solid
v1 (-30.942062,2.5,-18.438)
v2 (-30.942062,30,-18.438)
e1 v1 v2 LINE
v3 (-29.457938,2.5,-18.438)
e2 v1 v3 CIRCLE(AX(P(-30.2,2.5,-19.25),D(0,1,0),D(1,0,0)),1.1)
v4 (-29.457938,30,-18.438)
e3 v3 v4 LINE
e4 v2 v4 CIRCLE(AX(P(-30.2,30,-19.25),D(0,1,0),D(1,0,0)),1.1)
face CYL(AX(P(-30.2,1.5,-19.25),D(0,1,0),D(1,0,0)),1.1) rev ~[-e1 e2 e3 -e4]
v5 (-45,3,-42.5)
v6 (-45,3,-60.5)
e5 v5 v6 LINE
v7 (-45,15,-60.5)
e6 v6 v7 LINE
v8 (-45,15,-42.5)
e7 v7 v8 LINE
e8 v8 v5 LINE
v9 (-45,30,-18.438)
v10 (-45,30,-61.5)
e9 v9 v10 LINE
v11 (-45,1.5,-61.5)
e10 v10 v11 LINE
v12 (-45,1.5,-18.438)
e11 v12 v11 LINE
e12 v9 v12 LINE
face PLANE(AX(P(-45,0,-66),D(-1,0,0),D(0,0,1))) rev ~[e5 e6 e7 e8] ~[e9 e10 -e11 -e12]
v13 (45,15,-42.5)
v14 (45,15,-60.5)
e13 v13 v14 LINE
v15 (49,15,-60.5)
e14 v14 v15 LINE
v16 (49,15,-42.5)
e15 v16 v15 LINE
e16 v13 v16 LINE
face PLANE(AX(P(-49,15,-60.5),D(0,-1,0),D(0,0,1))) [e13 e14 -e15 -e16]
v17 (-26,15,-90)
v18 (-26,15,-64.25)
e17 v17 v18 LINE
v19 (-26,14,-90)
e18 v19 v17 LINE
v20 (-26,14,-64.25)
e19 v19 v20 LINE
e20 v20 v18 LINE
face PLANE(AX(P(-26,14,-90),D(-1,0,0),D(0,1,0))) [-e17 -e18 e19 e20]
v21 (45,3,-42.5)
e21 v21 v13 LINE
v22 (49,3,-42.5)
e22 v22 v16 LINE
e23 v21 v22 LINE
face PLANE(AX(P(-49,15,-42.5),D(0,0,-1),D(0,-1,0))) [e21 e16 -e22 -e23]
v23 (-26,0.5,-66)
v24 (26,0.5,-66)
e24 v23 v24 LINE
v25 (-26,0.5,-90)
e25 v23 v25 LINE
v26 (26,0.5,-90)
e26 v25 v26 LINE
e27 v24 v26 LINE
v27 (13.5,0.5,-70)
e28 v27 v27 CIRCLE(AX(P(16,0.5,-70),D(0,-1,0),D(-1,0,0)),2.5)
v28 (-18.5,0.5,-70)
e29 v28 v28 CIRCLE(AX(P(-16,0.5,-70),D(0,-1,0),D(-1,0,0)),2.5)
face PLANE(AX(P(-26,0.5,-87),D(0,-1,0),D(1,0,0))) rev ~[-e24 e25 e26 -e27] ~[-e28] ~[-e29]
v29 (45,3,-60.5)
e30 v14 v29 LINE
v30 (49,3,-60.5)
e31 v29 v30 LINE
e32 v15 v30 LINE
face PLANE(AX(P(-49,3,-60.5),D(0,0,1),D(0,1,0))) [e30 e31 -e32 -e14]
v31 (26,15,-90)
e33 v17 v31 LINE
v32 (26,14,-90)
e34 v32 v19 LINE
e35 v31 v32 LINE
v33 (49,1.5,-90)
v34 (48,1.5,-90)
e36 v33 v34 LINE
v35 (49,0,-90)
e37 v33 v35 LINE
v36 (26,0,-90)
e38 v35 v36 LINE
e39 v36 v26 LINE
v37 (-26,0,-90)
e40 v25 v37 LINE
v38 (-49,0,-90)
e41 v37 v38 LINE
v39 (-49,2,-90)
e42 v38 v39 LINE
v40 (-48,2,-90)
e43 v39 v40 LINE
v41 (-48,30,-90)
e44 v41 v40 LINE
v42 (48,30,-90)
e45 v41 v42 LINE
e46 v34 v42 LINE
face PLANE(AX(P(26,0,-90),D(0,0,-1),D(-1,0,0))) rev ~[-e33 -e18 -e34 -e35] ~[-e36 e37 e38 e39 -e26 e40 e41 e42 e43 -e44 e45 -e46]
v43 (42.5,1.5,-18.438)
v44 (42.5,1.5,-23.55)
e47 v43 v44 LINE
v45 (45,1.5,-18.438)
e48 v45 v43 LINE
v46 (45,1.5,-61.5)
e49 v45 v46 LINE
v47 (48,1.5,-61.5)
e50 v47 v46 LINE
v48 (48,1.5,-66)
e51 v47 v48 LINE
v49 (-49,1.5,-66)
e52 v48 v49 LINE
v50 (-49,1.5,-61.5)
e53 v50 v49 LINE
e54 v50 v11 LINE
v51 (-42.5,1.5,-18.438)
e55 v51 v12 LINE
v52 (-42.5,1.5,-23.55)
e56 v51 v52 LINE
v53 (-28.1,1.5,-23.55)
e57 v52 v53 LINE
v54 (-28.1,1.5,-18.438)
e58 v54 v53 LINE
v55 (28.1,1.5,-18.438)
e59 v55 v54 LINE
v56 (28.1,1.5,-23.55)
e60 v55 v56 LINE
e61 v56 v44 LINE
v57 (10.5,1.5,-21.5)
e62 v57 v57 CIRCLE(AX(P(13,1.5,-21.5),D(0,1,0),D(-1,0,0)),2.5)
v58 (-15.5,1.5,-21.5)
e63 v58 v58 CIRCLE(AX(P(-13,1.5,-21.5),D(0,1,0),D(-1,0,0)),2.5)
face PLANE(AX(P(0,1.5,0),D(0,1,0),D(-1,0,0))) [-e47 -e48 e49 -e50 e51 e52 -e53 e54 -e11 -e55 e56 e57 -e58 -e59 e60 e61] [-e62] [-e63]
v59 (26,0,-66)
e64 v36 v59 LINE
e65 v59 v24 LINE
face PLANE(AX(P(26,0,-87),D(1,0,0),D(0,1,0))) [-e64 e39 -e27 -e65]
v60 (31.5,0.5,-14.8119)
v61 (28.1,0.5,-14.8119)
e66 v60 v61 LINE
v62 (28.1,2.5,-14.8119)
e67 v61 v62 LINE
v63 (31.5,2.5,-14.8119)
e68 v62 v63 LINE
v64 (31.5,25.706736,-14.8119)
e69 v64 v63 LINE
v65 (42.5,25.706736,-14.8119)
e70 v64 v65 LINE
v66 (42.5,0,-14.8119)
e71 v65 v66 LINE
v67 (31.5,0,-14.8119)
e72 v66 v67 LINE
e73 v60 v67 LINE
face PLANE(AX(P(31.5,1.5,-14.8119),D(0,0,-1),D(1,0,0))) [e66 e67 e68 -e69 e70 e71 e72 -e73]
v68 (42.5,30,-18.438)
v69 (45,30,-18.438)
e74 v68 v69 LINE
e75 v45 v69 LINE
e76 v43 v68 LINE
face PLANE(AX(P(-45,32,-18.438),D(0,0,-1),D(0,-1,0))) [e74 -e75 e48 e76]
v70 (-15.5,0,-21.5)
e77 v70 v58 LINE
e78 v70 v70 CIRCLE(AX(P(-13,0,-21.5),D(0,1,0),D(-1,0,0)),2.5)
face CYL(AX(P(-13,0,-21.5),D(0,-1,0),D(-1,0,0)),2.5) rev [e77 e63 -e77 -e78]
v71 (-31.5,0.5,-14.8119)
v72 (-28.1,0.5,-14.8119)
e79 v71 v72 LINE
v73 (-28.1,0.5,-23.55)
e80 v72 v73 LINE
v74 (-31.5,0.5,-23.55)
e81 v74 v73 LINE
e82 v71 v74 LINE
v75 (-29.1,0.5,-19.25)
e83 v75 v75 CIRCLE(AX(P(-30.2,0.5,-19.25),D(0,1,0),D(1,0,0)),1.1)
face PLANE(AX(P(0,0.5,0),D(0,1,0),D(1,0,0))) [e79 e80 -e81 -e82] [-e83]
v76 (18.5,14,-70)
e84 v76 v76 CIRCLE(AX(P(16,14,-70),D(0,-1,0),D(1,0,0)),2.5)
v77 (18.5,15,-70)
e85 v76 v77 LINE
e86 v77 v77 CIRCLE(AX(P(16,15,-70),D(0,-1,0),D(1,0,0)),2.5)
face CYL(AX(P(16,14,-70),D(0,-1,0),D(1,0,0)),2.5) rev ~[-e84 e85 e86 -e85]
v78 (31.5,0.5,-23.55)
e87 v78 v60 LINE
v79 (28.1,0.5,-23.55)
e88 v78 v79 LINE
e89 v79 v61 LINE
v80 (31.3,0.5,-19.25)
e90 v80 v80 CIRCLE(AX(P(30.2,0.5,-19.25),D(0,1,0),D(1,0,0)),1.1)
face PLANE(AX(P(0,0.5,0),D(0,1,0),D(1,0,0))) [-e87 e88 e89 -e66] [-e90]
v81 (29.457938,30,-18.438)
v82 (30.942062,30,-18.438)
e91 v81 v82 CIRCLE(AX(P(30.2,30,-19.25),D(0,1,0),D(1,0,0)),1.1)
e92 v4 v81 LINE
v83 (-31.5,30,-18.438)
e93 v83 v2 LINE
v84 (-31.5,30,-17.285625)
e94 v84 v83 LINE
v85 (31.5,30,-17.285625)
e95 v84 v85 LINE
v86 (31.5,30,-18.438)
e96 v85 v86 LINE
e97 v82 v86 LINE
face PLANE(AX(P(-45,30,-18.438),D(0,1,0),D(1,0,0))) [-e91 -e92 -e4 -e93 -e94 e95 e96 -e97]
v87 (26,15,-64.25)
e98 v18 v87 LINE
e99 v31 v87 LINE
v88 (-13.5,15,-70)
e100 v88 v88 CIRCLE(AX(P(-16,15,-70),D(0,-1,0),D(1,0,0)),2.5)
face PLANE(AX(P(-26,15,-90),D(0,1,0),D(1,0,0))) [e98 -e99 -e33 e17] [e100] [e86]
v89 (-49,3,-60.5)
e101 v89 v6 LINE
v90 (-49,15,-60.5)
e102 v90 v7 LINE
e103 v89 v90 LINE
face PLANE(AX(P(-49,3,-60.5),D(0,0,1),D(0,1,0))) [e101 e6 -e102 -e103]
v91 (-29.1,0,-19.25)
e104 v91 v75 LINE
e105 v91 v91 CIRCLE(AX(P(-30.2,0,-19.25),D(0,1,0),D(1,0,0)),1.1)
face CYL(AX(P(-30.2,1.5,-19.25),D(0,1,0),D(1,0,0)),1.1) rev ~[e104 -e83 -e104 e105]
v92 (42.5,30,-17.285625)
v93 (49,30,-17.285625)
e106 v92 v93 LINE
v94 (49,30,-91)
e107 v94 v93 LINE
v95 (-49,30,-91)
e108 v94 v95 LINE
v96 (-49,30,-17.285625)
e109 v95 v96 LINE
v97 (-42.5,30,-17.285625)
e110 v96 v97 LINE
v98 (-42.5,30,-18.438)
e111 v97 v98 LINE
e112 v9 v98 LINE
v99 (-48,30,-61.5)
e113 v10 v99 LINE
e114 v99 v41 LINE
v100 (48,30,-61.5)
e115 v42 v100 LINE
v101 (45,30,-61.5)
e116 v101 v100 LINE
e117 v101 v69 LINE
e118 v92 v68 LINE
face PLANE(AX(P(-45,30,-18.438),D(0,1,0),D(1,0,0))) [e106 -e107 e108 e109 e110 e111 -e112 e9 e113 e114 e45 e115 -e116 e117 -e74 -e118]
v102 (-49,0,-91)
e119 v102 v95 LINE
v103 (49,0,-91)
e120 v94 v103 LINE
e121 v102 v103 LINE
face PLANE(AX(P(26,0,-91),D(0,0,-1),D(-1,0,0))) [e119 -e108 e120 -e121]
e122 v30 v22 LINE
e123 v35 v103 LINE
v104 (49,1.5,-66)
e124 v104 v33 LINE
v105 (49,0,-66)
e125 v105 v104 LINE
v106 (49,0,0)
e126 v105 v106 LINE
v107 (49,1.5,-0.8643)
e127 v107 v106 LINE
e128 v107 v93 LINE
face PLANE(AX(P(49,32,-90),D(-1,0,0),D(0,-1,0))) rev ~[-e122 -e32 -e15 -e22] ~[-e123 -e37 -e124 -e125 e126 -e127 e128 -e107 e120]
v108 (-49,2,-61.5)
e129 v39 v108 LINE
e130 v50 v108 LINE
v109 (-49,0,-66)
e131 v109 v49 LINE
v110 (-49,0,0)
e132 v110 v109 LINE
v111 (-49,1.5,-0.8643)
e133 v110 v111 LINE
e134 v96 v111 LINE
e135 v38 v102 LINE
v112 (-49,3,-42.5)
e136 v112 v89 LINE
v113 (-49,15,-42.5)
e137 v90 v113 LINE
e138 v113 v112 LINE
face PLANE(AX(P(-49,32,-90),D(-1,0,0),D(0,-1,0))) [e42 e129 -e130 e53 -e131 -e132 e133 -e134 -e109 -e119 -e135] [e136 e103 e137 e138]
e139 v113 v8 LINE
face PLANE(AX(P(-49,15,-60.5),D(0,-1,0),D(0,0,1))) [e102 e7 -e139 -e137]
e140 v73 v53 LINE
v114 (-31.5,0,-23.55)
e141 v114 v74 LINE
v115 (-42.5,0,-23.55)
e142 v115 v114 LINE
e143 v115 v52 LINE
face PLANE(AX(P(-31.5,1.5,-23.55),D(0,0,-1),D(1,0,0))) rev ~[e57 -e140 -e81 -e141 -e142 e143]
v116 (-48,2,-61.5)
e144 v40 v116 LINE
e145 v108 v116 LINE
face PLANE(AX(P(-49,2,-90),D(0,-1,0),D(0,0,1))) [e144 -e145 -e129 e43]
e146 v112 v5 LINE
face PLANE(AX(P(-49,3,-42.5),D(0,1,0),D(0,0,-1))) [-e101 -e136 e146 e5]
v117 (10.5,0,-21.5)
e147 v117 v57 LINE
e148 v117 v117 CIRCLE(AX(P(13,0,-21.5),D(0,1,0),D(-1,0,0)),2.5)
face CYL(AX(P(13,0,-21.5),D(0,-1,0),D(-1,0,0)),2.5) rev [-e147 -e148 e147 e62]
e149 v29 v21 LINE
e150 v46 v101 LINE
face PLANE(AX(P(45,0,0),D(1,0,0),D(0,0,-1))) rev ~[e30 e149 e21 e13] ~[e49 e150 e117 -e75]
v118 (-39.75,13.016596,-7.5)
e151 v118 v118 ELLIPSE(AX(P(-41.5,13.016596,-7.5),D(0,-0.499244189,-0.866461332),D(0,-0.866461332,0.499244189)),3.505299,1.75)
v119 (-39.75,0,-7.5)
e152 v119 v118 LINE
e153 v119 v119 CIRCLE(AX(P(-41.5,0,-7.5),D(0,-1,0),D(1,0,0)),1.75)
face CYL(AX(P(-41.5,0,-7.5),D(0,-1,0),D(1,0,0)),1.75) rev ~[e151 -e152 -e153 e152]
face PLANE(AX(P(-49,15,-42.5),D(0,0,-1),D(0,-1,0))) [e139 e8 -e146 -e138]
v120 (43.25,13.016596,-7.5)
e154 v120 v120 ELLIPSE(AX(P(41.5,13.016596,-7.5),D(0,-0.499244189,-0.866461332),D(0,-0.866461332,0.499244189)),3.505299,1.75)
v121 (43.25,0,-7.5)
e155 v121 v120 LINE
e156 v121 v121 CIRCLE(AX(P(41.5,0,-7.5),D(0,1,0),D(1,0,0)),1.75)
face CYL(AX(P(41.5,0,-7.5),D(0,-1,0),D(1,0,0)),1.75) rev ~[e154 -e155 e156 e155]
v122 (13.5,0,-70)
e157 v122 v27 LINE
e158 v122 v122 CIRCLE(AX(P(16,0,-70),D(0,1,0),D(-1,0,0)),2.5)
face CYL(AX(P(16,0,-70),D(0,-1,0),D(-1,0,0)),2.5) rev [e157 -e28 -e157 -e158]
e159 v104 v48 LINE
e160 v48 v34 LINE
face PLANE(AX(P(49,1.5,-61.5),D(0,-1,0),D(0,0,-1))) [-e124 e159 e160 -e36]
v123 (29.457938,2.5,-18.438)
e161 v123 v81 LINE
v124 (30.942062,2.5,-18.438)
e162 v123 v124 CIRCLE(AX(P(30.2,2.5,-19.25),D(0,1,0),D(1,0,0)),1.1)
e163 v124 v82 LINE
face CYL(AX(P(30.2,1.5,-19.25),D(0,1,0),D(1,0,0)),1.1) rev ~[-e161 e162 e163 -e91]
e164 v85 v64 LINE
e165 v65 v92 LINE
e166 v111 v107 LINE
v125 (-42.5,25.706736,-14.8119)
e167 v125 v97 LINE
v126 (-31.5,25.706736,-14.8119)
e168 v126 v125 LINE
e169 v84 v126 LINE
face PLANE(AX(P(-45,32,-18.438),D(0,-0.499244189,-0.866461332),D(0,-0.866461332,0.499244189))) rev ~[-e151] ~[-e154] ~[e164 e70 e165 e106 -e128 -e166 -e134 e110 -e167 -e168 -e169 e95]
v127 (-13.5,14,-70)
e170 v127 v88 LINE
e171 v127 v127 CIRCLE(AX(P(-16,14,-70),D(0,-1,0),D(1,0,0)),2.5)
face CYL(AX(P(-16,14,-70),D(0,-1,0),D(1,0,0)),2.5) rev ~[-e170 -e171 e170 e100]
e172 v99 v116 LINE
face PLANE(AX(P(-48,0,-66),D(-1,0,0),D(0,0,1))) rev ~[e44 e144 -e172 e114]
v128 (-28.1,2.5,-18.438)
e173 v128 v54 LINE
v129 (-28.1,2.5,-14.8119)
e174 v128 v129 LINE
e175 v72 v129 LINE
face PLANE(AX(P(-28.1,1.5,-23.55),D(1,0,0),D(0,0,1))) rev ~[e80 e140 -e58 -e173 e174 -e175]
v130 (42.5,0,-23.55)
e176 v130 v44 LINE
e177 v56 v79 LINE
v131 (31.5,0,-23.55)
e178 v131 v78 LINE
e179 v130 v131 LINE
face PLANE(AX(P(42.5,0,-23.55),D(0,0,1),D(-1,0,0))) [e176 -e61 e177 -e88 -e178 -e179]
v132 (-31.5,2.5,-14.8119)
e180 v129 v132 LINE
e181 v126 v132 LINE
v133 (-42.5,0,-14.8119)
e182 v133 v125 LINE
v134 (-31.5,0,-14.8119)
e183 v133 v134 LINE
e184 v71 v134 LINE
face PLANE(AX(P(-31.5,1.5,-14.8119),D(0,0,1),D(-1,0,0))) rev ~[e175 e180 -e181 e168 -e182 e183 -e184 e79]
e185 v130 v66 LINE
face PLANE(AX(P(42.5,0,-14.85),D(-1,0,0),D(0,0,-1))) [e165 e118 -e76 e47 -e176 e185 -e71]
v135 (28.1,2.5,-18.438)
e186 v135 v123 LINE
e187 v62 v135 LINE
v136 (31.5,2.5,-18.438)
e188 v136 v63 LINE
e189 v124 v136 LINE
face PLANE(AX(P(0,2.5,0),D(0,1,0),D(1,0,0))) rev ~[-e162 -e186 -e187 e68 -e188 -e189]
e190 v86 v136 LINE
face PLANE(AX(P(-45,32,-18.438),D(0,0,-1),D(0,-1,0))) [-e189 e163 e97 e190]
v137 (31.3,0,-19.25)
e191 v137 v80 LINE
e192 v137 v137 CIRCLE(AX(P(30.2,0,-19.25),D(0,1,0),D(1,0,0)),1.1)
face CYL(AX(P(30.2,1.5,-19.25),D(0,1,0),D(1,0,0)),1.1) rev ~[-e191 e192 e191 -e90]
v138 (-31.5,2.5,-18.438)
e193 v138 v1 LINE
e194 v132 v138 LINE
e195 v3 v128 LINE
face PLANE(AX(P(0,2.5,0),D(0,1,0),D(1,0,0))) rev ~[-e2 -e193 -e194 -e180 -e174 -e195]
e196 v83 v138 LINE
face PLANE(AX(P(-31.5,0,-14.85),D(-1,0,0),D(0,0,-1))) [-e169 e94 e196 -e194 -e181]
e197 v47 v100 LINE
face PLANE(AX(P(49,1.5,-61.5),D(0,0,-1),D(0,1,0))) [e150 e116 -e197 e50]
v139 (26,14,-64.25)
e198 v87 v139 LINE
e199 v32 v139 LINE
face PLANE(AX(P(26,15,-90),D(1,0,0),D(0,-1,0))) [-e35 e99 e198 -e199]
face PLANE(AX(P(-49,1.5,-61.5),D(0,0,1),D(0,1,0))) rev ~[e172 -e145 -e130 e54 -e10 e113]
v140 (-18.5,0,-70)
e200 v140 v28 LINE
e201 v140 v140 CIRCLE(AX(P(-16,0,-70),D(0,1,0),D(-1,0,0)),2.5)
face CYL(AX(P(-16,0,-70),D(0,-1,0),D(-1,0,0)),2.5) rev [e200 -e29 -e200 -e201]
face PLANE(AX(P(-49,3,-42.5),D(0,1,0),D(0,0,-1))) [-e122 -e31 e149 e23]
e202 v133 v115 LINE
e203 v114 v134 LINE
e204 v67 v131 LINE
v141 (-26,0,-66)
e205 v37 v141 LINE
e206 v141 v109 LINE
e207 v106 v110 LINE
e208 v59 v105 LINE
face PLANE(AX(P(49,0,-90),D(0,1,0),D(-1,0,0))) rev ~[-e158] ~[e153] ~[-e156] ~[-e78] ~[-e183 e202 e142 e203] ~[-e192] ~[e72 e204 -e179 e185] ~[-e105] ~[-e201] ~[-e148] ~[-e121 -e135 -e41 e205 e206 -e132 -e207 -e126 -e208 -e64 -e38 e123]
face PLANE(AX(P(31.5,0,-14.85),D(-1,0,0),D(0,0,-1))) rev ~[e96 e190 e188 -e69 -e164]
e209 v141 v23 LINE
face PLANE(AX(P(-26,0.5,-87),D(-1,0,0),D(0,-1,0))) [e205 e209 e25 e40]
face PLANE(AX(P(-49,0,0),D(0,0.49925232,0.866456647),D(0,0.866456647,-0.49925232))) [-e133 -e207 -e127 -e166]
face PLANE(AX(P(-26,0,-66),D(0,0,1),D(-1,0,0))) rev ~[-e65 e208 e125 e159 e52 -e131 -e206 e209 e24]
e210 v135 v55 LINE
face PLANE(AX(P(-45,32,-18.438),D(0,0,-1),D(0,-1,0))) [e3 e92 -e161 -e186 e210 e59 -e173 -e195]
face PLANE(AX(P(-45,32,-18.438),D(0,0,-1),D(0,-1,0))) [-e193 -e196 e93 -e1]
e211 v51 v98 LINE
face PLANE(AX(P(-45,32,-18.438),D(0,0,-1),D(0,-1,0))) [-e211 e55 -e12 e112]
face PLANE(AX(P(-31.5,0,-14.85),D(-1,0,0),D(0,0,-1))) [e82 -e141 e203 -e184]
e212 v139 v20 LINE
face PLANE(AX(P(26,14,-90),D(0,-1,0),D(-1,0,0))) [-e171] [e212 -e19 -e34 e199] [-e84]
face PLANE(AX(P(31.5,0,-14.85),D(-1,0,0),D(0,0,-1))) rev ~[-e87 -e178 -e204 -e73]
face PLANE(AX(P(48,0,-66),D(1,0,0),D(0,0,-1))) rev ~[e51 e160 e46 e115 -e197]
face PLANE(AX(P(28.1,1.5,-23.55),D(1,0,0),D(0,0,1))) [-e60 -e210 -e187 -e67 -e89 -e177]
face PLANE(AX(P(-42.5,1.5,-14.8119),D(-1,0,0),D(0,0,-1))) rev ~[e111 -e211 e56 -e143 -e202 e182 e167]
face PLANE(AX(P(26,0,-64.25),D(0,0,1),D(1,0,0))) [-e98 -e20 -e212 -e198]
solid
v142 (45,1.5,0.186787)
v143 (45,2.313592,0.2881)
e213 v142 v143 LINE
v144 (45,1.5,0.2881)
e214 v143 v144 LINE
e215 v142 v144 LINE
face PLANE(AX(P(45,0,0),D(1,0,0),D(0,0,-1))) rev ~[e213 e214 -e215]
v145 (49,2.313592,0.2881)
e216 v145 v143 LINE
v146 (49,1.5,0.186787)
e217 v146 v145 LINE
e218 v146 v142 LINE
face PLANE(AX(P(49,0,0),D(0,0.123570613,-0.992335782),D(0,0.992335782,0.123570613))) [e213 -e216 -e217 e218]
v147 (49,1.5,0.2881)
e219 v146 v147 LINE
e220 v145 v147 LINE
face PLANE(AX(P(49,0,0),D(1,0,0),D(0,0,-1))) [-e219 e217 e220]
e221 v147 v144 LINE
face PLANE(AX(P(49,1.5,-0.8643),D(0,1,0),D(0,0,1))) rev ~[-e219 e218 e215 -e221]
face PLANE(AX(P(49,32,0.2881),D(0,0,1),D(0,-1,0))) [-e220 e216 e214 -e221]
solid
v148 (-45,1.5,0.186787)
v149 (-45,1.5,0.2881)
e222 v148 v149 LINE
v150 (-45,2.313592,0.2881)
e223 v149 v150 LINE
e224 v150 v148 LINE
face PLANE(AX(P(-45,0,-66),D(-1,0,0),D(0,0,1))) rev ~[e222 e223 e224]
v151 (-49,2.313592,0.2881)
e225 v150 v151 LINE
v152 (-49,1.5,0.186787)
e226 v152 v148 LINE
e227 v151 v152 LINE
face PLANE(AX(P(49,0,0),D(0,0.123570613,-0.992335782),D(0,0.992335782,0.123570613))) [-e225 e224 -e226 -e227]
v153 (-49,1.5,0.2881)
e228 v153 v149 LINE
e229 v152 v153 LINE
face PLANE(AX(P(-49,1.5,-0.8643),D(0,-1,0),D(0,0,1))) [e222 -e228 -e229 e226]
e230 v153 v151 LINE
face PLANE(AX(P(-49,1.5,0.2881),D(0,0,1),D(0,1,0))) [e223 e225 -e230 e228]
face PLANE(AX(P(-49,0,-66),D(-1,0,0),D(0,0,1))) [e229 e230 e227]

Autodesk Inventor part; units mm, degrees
ref_plane "YZ Plane" through (0, 0, 0) normal (1, 0, 0) x (0, 1, 0)
ref_plane "XZ Plane" through (0, 0, 0) normal (0, 1, 0) x (-1, 0, 0)
ref_plane "XY Plane" through (0, 0, 0) normal (0, 0, 1) x (1, 0, 0)
sketch "Boceto2" plane through (0, 0, 0) normal (0, 1, 0) x (-1, 0, 0)
  line L0 (-49, 0) -> (49, 0)
  line L1 (49, 0) -> (49, -87)
  line L2 (49, -87) -> (-49, -87)
  line L3 (-49, -87) -> (-49, 0)
  line L4 (0, -87) -> (0, 0) construction
  circle A0 centre (-41.5, -7.5) radius 1.75
  circle A1 centre (41.5, -7.5) radius 1.75
  line L5 (-26, -87) -> (-26, -66)
  line L6 (-26, -66) -> (-49, -66)
  line L7 (26, -87) -> (26, -66)
  line L8 (26, -66) -> (49, -66)
  line L9 (49, -12) -> (-49, -12) construction
  line L10 (44.5, -24.05) -> (28.5, -24.05)
  line L11 (28.5, -24.05) -> (28.5, -13.05)
  line L12 (28.5, -13.05) -> (44.5, -13.05)
  line L13 (44.5, -13.05) -> (44.5, -24.05)
  line L14 (42.5, -23.55) -> (31.5, -23.55)
  line L15 (31.5, -14.85) -> (42.5, -14.85)
  line L16 (42.5, -14.85) -> (42.5, -23.55)
  circle A2 centre (30.2, -19.25) radius 1.05
  line L17 (31.5, -14.85) -> (31.5, -23.55)
  line L18 (-42.5, -23.55) -> (-31.5, -23.55)
  line L19 (-31.5, -14.85) -> (-42.5, -14.85)
  line L20 (-42.5, -14.85) -> (-42.5, -23.55)
  circle A3 centre (-30.2, -19.25) radius 1.05
  line L21 (-31.5, -14.85) -> (-31.5, -23.55)
  circle A4 centre (13, -21.5) radius 2.5
  circle A5 centre (-13, -21.5) radius 2.5
  circle A6 centre (16, -70) radius 2.5
  circle A7 centre (-16, -70) radius 2.5
  point P0 (26, -87)
  dimension "d6" = 3.5
  dimension "d210" = 0
  dimension "d219" = 87
  dimension "d220" = 21
  dimension "d221" = 12
  dimension "d222" = 23
  dimension "d223" = 98
  dimension "d224" = 7.5
  dimension "d225" = 7.5
  dimension "d226" = 79.5
  dimension "d229" = 2.1
  dimension "d230" = 9
  dimension "d231" = 11
  dimension "d232" = 16
  dimension "d235" = 1
  dimension "d236" = 3.6
  dimension "d239" = 2.1
  dimension "d241" = 1.3
  dimension "d242" = 5
  dimension "d243" = 36
  dimension "d244" = 9.5
  dimension "d245" = 5
  dimension "d246" = 17
  dimension "d247" = 10
  dimension "d252" = 8.7
  dimension "d254" = 4.3
  dimension "d255" = 4
  dimension "d256" = 11
  dimension "d257" = 54
  dimension "d258" = 2.85
extrude "Extrusion Base" add sketch "Boceto2" along normal blind 1.5 contours L0 L1 L8 L7 L2 L5 L6 L3 | L10 L11 L12 L13
sketch "Boceto4" plane through (-49, 0, -66) normal (-1, 0, 0) x (0, 0, 1)
  line L0 (66, 0) -> (0, 0) projected
  line L1 (66, 0) -> (65.1357, 1.5)
  line L2 (66, 0) -> (67.7312, 0) construction
  line L3 (65.1357, 1.5) -> (66, 1.5)
  line L4 (66, 0) -> (66, 1.5) projected
  line L5 (66, 1.5) -> (66, 0)
  dimension "d24" = 119.95
extrude "Extrusión Angulo parte de adelante" cut sketch "Boceto4" against normal blind 100
sketch "Boceto10" plane through (49, 0, 0) normal (1, 0, 0) x (0, 0, -1)
  line L0 (0, 0) -> (0.8643, 1.5) projected
  line L1 (0.8643, 1.5) -> (-0.2881, 1.5)
  line L2 (-0.2881, 1.5) -> (61.5, 1.5)
  line L3 (61.5, 1.5) -> (61.5, 32)
  line L4 (61.5, 32) -> (-0.2881, 32)
  line L5 (-0.2881, 32) -> (-0.2881, 1.5)
extrude "Grado de inclinacion de 60.5 de parte delantera" add sketch "Boceto10" against normal blind 4
sketch "Boceto11" plane through (-49, 0, -66) normal (-1, 0, 0) x (0, 0, 1)
  line L0 (65.1357, 1.5) -> (4.5, 1.5) projected
  line L1 (65.1357, 1.5) -> (66.2881, 1.5) projected
  line L2 (66.2881, 1.5) -> (66.2881, 32) projected
  line L3 (66.2881, 32) -> (4.5, 32) projected
  line L4 (4.5, 2) -> (4.5, 32) projected
  line L5 (66.2881, 1.5) -> (4.5, 1.5)
  line L6 (4.5, 1.5) -> (4.5, 32)
  line L7 (4.5, 32) -> (66.2881, 32)
  line L8 (66.2881, 32) -> (66.2881, 1.5)
  line L9 (4.5, 32) -> (4.5, 1.5) projected
  point P0 (66, 0)
  point P1 (4.5, 1.5)
extrude "Lateral derecha de diseño" add sketch "Boceto11" against normal blind 4
sketch "Boceto13" plane through (49, 0, 0) normal (1, 0, 0) x (0, 0, -1)
  line L0 (0.8643, 1.5) -> (0, 0) projected
  line L1 (0, 0) -> (18.438, 32)
  line L2 (0, 0) -> (36.9318, 0) construction
  line L3 (66, 0) -> (0, 0) projected
  line L4 (61.5, 32) -> (-0.2881, 32) projected
  line L5 (0, 0) -> (-3.9848, 32)
  line L6 (-3.9848, 32) -> (18.438, 32)
  line L7 (-0.2881, 32) -> (61.5, 32) projected
  point P0 (4, 32)
  point P1 (-0.2881, 32)
  dimension "d59" = 60.05
extrude "Lateral izquierda diseño" cut sketch "Boceto13" against normal blind 103.25
sketch "Boceto15" plane through (-45, 0, -66) normal (1, 0, 0) x (0, 0, -1)
  line L0 (-47.562, 32) -> (-66, 0) projected
  line L1 (-66, 0) -> (0, 0) projected
  line L2 (-4.5, 32) -> (-66.2881, 32) projected
  line L3 (-47.562, 32) -> (-47.562, 0)
  line L4 (0, 0) -> (-66, 0) projected
  line L5 (-66, 0) -> (-65.1357, 1.5) projected
  line L6 (-66, 0) -> (-47.562, 0)
  line L7 (-66, 0) -> (-47.562, 32)
  line L8 (0, 0) -> (0, 1.5) projected
  line L9 (-4.5, 1.5) -> (0, 1.5) projected
  line L10 (-4.5, 1.5) -> (-4.5, 32) projected
  line L11 (-4.5, 32) -> (-47.562, 32) projected
  line L12 (-66.2881, 2.3136) -> (-66.2881, 1.5) projected
  line L13 (-66.2881, 1.5) -> (-66.1868, 1.5) projected
  line L14 (-66.1868, 1.5) -> (-66.2881, 2.3136) projected
extrude "Extrusion capa parte delantera" add sketch "Boceto15" along normal blind 93 contours L3 L1 L0
sketch "Boceto17" plane through (0, 0, 0) normal (0, -1, 0) x (1, 0, 0)
  line L0 (-49, 0) -> (49, 0) projected
  line L1 (49, 0) -> (41.5, 0)
  line L2 (41.5, 0) -> (41.5, -7.5)
  line L3 (41.5, -7.5) -> (49, -7.5)
  line L4 (49, -7.5) -> (49, 0)
  circle A0 centre (41.5, -7.5) radius 1.75
  line L5 (0, 0) -> (0, -85.5)
  line L6 (-26, -85.5) -> (26, -85.5) projected
  circle A1 centre (-41.5, -7.5) radius 1.75
  dimension "d67" = 7.5
  dimension "d68" = 7.5
  dimension "d69" = 3.5
extrude "Extrusión huecos tornillos parte delantera" cut sketch "Boceto17" against normal blind 90.25 contours A0 L3 L2 | L2 L3 A0 | A1
sketch "Boceto25" plane through (-49, 0, -66) normal (-1, 0, 0) x (0, 0, 1)
  line L0 (5.5, 15) -> (23.5, 15)
  line L1 (23.5, 15) -> (23.5, 3)
  line L2 (23.5, 3) -> (5.5, 3)
  line L3 (5.5, 3) -> (5.5, 15)
  line L4 (0, 0) -> (66, 0) projected
  dimension "d131" = 3
  dimension "d132" = 18
  dimension "d133" = 12
extrude "Extrusión sensores laterales" cut sketch "Boceto25" against normal blind 98.25
sketch "Boceto39" plane through (0, 1.5, 0) normal (0, 1, 0) x (1, 0, 0)
  line L0 (-42.5, 23.55) -> (-31.5, 23.55)
  line L1 (-31.5, 23.55) -> (-31.5, 14.8119)
  line L2 (-31.5, 14.8119) -> (-42.5, 14.8119)
  line L3 (-42.5, 14.8119) -> (-42.5, 23.55)
  circle A0 centre (-30.2, 19.25) radius 1.1
  line L4 (0, 64) -> (0, 18.438)
  line L5 (-29.5343, 18.438) -> (29.5343, 18.438) projected
  line L6 (42.5, 23.55) -> (31.5, 23.55)
  line L7 (31.5, 23.55) -> (31.5, 14.8119)
  line L8 (31.5, 14.8119) -> (42.5, 14.8119)
  line L9 (42.5, 14.8119) -> (42.5, 23.55)
  circle A1 centre (30.2, 19.25) radius 1.1
  arc A2 (-29.5343, 18.438) -> (-30.8657, 18.438) centre (-30.2, 19.25) ccw projected
  point P0 (0, 0)
  dimension "d259" = 11
  dimension "d262" = 2.2
  dimension "d263" = 1.3
  dimension "d264" = 4.3
  dimension "d270" = 2.15
extrude "Extrusión arreglo sensores" cut sketch "Boceto39" along normal mid plane 85.25
sketch "Boceto40" plane through (0, 1.5, 0) normal (0, 1, 0) x (1, 0, 0)
  line L0 (-30.65, 14.8119) -> (-31.5, 14.8119)
  line L1 (0, 64) -> (0, 18.438)
  line L2 (-29.5343, 18.438) -> (29.5343, 18.438) projected
  line L3 (31.5, 23.55) -> (31.5, 14.8119)
  line L4 (31.5, 23.55) -> (30.65, 23.55)
  line L5 (30.65, 23.55) -> (30.65, 14.8119)
  line L6 (30.65, 14.8119) -> (31.5, 14.8119)
  line L7 (-31.5, 23.55) -> (-28.1, 23.55)
  line L8 (-28.1, 23.55) -> (-28.1, 14.8119)
  line L9 (-28.1, 14.8119) -> (-31.5, 14.8119)
  line L10 (-31.5, 14.8119) -> (-31.5, 23.55)
  arc A0 (-29.4579, 18.438) -> (-30.9421, 18.438) centre (-30.2, 19.25) ccw projected
  line L11 (31.5, 23.55) -> (28.1, 23.55)
  line L12 (28.1, 23.55) -> (28.1, 14.8119)
  line L13 (28.1, 14.8119) -> (31.5, 14.8119)
  line L14 (31.5, 14.8119) -> (31.5, 23.55)
  point P0 (0, 0)
  point P1 (-31.5, 14.8119)
  point P2 (31.5, 14.8119)
  dimension "d271" = 1
extrude "Extrusión desnivel sensores" cut sketch "Boceto40" along normal mid plane 2
sketch "Boceto placa" plane through (0, 1.5, 0) normal (0, 1, 0) x (1, 0, 0)
  circle A0 centre (-32, 31.5) radius 1.75 projected
  circle A1 centre (31.5, 58) radius 1.75 projected
  line L0 (-32, 31.5) -> (31.5, 31.5)
  line L1 (31.5, 31.5) -> (31.5, 58)
  line L2 (31.5, 58) -> (-32, 58)
  line L3 (-32, 58) -> (-32, 31.5)
  line L4 (-42, 27.507) -> (42, 27.507)
  line L5 (42, 27.507) -> (42, 63.007)
  line L6 (42, 63.007) -> (-42, 63.007)
  line L7 (-42, 63.007) -> (-42, 27.507)
  line L8 (-45, 61.5) -> (-45, 18.438) projected
  line L9 (45, 18.438) -> (45, 61.5) projected
  line L10 (-22.385, 61.5) -> (-45, 61.5) projected
  line L11 (-45, 18.438) -> (45, 18.438) projected
  point P0 (0, 0)
  point P1 (-45, -0.2881)
  dimension "d167" = 63.5
  dimension "d168" = 26.5
  dimension "d172" = 84
  dimension "d176" = 10
  dimension "d177" = 3.993
  dimension "d178" = 3.5
  dimension "d179" = 35.5
  dimension "d180" = 9.069
sketch "Boceto48" plane through (0, 1.5, 0) normal (0, 1, 0) x (1, 0, 0)
  line L0 (26, 87) -> (-26, 87) projected
  line L1 (-26, 66) -> (26, 66)
  line L2 (26, 66) -> (26, 87)
  line L3 (26, 87) -> (-26, 87)
  line L4 (-26, 87) -> (-26, 66)
  point P0 (0, 0)
  point P1 (-26, 87)
extrude "Extrusión35" cut sketch "Boceto48" against normal blind 1
sketch "Boceto49" plane through (49, 0, -66) normal (1, 0, 0) x (0, 0, -1)
  line L0 (-4.5, 1.5) -> (-4.5, 32) projected
  line L1 (-4.5, 1.5) -> (24, 1.5)
  line L2 (24, 1.5) -> (24, 32)
  line L3 (24, 32) -> (-4.5, 32)
  line L4 (-4.5, 32) -> (-4.5, 1.5)
  point P0 (-66, 0)
  dimension "d281" = 28.5
extrude "Extrusión36" add sketch "Boceto49" against normal blind 1
sketch "Boceto50" plane through (-49, 0, -66) normal (-1, 0, 0) x (0, 0, 1)
  line L0 (4.5, 32) -> (4.5, 1.5) projected
  line L1 (4.5, 32) -> (-24, 32)
  line L2 (-24, 32) -> (-24, 2)
  line L3 (-24, 2) -> (4.5, 2)
  line L4 (4.5, 2) -> (4.5, 32)
  point P0 (66, 0)
  dimension "d284" = 28.5
extrude "Extrusión37" add sketch "Boceto50" against normal blind 1
sketch "Boceto52" plane through (26, 0, -87) normal (0, 0, -1) x (-1, 0, 0)
  line L0 (0, 0.5) -> (52, 0.5) projected
  line L1 (0, -0.5) -> (52, -0.5)
  line L2 (52, -0.5) -> (52, 0.5)
  line L3 (52, 0.5) -> (0, 0.5)
  line L4 (0, 0.5) -> (0, -0.5)
  point P0 (26, 0)
sketch "Boceto53" plane through (26, 0, -87) normal (0, 0, -1) x (-1, 0, 0)
  line L0 (52, 0.5) -> (0, 0.5) projected
  line L1 (52, 0) -> (75, 0) projected
  line L2 (0, 0.5) -> (52, 0.5)
  line L3 (52, 0.5) -> (52, 0)
  line L4 (52, 0) -> (0, 0)
  line L5 (0, 0) -> (0, 0.5)
  point P0 (26, 0)
extrude "Extrusión39" add sketch "Boceto53" along normal blind 3
sketch "Boceto54" plane through (26, 0, -90) normal (0, 0, -1) x (-1, 0, 0)
  point P0 (26, 0)
sketch "Boceto55" plane through (26, 0, -90) normal (0, 0, -1) x (-1, 0, 0)
  line L0 (-23, 0) -> (0, 0) projected
  line L1 (75, 32) -> (75, 2) projected
  line L2 (-23, 0) -> (75, 0)
  line L3 (75, 0) -> (75, 32)
  line L4 (75, 32) -> (-23, 32)
  line L5 (-23, 32) -> (-23, 0)
  point P0 (26, 0)
extrude "Extrusión40" add sketch "Boceto55" along normal blind 1
sketch "Boceto56" plane through (26, 0, -90) normal (0, 0, 1) x (1, 0, 0)
  line L0 (-52, 15) -> (0, 15)
  line L1 (0, 15) -> (0, 14)
  line L2 (0, 14) -> (-52, 14)
  line L3 (-52, 14) -> (-52, 15)
  line L4 (-52, 0.5) -> (0, 0.5) projected
  point P0 (-26, 0)
  dimension "d293" = 13.5
  dimension "d294" = 1
  dimension "d295" = 0
  dimension "d296" = 0
extrude "Extrusión41" add sketch "Boceto56" along normal blind 25.75
sketch "Boceto57" plane through (-26, 14, -90) normal (0, -1, 0) x (1, 0, 0)
  circle A0 centre (10, 20) radius 2.5 projected
  circle A1 centre (10, 20) radius 2.5
  circle A2 centre (42, 20) radius 2.5 projected
  circle A3 centre (42, 20) radius 2.5
  point P0 (26, 90)
extrude "Extrusión42" cut sketch "Boceto57" against normal blind 25.75
sketch "Boceto58" plane through (-26, 15, -90) normal (0, 1, 0) x (1, 0, 0)
  point P0 (26, -90)
sketch "Boceto59" plane through (-49, 0, -66) normal (-1, 0, 0) x (0, 0, 1)
  point P0 (66, 0)
sketch "Boceto60" plane through (-45, 32, -18.438) normal (0, 1, 0) x (1, 0, 0)
  line L0 (-4, -18.6248) -> (0, -18.6248) projected
  line L1 (94, 71.562) -> (94, 72.562) projected
  line L2 (-4, -18.6248) -> (94, -18.6248)
  line L3 (94, -18.6248) -> (94, 72.562)
  line L4 (94, 72.562) -> (-4, 72.562)
  line L5 (-4, 72.562) -> (-4, -18.6248)
  point P0 (45, -18.438)
extrude "Extrusión43" cut sketch "Boceto60" against normal blind 2
equation "\"Radio_pliegue\" = Grosor"
equation "\"Anchura_desahogo_plegado\" = Grosor"
equation "\"Profundidad_desahogo_plegado\" = 0.5 * Grosor"
equation "\"Tamaño_destalonado\" = 4 * Grosor"
equation "\"Remanente_mínimo\" = 2 * Grosor"
equation "\"Radiodetransición\" = Radio_pliegue"
equation "\"Tamaño_de_radio_de_Jacobi\" = Radio_pliegue"
equation "\"TamañoSeparación\" = Grosor"
equation "\"Grosor\" = 0.5"
properties part number "Base Onixium2"
